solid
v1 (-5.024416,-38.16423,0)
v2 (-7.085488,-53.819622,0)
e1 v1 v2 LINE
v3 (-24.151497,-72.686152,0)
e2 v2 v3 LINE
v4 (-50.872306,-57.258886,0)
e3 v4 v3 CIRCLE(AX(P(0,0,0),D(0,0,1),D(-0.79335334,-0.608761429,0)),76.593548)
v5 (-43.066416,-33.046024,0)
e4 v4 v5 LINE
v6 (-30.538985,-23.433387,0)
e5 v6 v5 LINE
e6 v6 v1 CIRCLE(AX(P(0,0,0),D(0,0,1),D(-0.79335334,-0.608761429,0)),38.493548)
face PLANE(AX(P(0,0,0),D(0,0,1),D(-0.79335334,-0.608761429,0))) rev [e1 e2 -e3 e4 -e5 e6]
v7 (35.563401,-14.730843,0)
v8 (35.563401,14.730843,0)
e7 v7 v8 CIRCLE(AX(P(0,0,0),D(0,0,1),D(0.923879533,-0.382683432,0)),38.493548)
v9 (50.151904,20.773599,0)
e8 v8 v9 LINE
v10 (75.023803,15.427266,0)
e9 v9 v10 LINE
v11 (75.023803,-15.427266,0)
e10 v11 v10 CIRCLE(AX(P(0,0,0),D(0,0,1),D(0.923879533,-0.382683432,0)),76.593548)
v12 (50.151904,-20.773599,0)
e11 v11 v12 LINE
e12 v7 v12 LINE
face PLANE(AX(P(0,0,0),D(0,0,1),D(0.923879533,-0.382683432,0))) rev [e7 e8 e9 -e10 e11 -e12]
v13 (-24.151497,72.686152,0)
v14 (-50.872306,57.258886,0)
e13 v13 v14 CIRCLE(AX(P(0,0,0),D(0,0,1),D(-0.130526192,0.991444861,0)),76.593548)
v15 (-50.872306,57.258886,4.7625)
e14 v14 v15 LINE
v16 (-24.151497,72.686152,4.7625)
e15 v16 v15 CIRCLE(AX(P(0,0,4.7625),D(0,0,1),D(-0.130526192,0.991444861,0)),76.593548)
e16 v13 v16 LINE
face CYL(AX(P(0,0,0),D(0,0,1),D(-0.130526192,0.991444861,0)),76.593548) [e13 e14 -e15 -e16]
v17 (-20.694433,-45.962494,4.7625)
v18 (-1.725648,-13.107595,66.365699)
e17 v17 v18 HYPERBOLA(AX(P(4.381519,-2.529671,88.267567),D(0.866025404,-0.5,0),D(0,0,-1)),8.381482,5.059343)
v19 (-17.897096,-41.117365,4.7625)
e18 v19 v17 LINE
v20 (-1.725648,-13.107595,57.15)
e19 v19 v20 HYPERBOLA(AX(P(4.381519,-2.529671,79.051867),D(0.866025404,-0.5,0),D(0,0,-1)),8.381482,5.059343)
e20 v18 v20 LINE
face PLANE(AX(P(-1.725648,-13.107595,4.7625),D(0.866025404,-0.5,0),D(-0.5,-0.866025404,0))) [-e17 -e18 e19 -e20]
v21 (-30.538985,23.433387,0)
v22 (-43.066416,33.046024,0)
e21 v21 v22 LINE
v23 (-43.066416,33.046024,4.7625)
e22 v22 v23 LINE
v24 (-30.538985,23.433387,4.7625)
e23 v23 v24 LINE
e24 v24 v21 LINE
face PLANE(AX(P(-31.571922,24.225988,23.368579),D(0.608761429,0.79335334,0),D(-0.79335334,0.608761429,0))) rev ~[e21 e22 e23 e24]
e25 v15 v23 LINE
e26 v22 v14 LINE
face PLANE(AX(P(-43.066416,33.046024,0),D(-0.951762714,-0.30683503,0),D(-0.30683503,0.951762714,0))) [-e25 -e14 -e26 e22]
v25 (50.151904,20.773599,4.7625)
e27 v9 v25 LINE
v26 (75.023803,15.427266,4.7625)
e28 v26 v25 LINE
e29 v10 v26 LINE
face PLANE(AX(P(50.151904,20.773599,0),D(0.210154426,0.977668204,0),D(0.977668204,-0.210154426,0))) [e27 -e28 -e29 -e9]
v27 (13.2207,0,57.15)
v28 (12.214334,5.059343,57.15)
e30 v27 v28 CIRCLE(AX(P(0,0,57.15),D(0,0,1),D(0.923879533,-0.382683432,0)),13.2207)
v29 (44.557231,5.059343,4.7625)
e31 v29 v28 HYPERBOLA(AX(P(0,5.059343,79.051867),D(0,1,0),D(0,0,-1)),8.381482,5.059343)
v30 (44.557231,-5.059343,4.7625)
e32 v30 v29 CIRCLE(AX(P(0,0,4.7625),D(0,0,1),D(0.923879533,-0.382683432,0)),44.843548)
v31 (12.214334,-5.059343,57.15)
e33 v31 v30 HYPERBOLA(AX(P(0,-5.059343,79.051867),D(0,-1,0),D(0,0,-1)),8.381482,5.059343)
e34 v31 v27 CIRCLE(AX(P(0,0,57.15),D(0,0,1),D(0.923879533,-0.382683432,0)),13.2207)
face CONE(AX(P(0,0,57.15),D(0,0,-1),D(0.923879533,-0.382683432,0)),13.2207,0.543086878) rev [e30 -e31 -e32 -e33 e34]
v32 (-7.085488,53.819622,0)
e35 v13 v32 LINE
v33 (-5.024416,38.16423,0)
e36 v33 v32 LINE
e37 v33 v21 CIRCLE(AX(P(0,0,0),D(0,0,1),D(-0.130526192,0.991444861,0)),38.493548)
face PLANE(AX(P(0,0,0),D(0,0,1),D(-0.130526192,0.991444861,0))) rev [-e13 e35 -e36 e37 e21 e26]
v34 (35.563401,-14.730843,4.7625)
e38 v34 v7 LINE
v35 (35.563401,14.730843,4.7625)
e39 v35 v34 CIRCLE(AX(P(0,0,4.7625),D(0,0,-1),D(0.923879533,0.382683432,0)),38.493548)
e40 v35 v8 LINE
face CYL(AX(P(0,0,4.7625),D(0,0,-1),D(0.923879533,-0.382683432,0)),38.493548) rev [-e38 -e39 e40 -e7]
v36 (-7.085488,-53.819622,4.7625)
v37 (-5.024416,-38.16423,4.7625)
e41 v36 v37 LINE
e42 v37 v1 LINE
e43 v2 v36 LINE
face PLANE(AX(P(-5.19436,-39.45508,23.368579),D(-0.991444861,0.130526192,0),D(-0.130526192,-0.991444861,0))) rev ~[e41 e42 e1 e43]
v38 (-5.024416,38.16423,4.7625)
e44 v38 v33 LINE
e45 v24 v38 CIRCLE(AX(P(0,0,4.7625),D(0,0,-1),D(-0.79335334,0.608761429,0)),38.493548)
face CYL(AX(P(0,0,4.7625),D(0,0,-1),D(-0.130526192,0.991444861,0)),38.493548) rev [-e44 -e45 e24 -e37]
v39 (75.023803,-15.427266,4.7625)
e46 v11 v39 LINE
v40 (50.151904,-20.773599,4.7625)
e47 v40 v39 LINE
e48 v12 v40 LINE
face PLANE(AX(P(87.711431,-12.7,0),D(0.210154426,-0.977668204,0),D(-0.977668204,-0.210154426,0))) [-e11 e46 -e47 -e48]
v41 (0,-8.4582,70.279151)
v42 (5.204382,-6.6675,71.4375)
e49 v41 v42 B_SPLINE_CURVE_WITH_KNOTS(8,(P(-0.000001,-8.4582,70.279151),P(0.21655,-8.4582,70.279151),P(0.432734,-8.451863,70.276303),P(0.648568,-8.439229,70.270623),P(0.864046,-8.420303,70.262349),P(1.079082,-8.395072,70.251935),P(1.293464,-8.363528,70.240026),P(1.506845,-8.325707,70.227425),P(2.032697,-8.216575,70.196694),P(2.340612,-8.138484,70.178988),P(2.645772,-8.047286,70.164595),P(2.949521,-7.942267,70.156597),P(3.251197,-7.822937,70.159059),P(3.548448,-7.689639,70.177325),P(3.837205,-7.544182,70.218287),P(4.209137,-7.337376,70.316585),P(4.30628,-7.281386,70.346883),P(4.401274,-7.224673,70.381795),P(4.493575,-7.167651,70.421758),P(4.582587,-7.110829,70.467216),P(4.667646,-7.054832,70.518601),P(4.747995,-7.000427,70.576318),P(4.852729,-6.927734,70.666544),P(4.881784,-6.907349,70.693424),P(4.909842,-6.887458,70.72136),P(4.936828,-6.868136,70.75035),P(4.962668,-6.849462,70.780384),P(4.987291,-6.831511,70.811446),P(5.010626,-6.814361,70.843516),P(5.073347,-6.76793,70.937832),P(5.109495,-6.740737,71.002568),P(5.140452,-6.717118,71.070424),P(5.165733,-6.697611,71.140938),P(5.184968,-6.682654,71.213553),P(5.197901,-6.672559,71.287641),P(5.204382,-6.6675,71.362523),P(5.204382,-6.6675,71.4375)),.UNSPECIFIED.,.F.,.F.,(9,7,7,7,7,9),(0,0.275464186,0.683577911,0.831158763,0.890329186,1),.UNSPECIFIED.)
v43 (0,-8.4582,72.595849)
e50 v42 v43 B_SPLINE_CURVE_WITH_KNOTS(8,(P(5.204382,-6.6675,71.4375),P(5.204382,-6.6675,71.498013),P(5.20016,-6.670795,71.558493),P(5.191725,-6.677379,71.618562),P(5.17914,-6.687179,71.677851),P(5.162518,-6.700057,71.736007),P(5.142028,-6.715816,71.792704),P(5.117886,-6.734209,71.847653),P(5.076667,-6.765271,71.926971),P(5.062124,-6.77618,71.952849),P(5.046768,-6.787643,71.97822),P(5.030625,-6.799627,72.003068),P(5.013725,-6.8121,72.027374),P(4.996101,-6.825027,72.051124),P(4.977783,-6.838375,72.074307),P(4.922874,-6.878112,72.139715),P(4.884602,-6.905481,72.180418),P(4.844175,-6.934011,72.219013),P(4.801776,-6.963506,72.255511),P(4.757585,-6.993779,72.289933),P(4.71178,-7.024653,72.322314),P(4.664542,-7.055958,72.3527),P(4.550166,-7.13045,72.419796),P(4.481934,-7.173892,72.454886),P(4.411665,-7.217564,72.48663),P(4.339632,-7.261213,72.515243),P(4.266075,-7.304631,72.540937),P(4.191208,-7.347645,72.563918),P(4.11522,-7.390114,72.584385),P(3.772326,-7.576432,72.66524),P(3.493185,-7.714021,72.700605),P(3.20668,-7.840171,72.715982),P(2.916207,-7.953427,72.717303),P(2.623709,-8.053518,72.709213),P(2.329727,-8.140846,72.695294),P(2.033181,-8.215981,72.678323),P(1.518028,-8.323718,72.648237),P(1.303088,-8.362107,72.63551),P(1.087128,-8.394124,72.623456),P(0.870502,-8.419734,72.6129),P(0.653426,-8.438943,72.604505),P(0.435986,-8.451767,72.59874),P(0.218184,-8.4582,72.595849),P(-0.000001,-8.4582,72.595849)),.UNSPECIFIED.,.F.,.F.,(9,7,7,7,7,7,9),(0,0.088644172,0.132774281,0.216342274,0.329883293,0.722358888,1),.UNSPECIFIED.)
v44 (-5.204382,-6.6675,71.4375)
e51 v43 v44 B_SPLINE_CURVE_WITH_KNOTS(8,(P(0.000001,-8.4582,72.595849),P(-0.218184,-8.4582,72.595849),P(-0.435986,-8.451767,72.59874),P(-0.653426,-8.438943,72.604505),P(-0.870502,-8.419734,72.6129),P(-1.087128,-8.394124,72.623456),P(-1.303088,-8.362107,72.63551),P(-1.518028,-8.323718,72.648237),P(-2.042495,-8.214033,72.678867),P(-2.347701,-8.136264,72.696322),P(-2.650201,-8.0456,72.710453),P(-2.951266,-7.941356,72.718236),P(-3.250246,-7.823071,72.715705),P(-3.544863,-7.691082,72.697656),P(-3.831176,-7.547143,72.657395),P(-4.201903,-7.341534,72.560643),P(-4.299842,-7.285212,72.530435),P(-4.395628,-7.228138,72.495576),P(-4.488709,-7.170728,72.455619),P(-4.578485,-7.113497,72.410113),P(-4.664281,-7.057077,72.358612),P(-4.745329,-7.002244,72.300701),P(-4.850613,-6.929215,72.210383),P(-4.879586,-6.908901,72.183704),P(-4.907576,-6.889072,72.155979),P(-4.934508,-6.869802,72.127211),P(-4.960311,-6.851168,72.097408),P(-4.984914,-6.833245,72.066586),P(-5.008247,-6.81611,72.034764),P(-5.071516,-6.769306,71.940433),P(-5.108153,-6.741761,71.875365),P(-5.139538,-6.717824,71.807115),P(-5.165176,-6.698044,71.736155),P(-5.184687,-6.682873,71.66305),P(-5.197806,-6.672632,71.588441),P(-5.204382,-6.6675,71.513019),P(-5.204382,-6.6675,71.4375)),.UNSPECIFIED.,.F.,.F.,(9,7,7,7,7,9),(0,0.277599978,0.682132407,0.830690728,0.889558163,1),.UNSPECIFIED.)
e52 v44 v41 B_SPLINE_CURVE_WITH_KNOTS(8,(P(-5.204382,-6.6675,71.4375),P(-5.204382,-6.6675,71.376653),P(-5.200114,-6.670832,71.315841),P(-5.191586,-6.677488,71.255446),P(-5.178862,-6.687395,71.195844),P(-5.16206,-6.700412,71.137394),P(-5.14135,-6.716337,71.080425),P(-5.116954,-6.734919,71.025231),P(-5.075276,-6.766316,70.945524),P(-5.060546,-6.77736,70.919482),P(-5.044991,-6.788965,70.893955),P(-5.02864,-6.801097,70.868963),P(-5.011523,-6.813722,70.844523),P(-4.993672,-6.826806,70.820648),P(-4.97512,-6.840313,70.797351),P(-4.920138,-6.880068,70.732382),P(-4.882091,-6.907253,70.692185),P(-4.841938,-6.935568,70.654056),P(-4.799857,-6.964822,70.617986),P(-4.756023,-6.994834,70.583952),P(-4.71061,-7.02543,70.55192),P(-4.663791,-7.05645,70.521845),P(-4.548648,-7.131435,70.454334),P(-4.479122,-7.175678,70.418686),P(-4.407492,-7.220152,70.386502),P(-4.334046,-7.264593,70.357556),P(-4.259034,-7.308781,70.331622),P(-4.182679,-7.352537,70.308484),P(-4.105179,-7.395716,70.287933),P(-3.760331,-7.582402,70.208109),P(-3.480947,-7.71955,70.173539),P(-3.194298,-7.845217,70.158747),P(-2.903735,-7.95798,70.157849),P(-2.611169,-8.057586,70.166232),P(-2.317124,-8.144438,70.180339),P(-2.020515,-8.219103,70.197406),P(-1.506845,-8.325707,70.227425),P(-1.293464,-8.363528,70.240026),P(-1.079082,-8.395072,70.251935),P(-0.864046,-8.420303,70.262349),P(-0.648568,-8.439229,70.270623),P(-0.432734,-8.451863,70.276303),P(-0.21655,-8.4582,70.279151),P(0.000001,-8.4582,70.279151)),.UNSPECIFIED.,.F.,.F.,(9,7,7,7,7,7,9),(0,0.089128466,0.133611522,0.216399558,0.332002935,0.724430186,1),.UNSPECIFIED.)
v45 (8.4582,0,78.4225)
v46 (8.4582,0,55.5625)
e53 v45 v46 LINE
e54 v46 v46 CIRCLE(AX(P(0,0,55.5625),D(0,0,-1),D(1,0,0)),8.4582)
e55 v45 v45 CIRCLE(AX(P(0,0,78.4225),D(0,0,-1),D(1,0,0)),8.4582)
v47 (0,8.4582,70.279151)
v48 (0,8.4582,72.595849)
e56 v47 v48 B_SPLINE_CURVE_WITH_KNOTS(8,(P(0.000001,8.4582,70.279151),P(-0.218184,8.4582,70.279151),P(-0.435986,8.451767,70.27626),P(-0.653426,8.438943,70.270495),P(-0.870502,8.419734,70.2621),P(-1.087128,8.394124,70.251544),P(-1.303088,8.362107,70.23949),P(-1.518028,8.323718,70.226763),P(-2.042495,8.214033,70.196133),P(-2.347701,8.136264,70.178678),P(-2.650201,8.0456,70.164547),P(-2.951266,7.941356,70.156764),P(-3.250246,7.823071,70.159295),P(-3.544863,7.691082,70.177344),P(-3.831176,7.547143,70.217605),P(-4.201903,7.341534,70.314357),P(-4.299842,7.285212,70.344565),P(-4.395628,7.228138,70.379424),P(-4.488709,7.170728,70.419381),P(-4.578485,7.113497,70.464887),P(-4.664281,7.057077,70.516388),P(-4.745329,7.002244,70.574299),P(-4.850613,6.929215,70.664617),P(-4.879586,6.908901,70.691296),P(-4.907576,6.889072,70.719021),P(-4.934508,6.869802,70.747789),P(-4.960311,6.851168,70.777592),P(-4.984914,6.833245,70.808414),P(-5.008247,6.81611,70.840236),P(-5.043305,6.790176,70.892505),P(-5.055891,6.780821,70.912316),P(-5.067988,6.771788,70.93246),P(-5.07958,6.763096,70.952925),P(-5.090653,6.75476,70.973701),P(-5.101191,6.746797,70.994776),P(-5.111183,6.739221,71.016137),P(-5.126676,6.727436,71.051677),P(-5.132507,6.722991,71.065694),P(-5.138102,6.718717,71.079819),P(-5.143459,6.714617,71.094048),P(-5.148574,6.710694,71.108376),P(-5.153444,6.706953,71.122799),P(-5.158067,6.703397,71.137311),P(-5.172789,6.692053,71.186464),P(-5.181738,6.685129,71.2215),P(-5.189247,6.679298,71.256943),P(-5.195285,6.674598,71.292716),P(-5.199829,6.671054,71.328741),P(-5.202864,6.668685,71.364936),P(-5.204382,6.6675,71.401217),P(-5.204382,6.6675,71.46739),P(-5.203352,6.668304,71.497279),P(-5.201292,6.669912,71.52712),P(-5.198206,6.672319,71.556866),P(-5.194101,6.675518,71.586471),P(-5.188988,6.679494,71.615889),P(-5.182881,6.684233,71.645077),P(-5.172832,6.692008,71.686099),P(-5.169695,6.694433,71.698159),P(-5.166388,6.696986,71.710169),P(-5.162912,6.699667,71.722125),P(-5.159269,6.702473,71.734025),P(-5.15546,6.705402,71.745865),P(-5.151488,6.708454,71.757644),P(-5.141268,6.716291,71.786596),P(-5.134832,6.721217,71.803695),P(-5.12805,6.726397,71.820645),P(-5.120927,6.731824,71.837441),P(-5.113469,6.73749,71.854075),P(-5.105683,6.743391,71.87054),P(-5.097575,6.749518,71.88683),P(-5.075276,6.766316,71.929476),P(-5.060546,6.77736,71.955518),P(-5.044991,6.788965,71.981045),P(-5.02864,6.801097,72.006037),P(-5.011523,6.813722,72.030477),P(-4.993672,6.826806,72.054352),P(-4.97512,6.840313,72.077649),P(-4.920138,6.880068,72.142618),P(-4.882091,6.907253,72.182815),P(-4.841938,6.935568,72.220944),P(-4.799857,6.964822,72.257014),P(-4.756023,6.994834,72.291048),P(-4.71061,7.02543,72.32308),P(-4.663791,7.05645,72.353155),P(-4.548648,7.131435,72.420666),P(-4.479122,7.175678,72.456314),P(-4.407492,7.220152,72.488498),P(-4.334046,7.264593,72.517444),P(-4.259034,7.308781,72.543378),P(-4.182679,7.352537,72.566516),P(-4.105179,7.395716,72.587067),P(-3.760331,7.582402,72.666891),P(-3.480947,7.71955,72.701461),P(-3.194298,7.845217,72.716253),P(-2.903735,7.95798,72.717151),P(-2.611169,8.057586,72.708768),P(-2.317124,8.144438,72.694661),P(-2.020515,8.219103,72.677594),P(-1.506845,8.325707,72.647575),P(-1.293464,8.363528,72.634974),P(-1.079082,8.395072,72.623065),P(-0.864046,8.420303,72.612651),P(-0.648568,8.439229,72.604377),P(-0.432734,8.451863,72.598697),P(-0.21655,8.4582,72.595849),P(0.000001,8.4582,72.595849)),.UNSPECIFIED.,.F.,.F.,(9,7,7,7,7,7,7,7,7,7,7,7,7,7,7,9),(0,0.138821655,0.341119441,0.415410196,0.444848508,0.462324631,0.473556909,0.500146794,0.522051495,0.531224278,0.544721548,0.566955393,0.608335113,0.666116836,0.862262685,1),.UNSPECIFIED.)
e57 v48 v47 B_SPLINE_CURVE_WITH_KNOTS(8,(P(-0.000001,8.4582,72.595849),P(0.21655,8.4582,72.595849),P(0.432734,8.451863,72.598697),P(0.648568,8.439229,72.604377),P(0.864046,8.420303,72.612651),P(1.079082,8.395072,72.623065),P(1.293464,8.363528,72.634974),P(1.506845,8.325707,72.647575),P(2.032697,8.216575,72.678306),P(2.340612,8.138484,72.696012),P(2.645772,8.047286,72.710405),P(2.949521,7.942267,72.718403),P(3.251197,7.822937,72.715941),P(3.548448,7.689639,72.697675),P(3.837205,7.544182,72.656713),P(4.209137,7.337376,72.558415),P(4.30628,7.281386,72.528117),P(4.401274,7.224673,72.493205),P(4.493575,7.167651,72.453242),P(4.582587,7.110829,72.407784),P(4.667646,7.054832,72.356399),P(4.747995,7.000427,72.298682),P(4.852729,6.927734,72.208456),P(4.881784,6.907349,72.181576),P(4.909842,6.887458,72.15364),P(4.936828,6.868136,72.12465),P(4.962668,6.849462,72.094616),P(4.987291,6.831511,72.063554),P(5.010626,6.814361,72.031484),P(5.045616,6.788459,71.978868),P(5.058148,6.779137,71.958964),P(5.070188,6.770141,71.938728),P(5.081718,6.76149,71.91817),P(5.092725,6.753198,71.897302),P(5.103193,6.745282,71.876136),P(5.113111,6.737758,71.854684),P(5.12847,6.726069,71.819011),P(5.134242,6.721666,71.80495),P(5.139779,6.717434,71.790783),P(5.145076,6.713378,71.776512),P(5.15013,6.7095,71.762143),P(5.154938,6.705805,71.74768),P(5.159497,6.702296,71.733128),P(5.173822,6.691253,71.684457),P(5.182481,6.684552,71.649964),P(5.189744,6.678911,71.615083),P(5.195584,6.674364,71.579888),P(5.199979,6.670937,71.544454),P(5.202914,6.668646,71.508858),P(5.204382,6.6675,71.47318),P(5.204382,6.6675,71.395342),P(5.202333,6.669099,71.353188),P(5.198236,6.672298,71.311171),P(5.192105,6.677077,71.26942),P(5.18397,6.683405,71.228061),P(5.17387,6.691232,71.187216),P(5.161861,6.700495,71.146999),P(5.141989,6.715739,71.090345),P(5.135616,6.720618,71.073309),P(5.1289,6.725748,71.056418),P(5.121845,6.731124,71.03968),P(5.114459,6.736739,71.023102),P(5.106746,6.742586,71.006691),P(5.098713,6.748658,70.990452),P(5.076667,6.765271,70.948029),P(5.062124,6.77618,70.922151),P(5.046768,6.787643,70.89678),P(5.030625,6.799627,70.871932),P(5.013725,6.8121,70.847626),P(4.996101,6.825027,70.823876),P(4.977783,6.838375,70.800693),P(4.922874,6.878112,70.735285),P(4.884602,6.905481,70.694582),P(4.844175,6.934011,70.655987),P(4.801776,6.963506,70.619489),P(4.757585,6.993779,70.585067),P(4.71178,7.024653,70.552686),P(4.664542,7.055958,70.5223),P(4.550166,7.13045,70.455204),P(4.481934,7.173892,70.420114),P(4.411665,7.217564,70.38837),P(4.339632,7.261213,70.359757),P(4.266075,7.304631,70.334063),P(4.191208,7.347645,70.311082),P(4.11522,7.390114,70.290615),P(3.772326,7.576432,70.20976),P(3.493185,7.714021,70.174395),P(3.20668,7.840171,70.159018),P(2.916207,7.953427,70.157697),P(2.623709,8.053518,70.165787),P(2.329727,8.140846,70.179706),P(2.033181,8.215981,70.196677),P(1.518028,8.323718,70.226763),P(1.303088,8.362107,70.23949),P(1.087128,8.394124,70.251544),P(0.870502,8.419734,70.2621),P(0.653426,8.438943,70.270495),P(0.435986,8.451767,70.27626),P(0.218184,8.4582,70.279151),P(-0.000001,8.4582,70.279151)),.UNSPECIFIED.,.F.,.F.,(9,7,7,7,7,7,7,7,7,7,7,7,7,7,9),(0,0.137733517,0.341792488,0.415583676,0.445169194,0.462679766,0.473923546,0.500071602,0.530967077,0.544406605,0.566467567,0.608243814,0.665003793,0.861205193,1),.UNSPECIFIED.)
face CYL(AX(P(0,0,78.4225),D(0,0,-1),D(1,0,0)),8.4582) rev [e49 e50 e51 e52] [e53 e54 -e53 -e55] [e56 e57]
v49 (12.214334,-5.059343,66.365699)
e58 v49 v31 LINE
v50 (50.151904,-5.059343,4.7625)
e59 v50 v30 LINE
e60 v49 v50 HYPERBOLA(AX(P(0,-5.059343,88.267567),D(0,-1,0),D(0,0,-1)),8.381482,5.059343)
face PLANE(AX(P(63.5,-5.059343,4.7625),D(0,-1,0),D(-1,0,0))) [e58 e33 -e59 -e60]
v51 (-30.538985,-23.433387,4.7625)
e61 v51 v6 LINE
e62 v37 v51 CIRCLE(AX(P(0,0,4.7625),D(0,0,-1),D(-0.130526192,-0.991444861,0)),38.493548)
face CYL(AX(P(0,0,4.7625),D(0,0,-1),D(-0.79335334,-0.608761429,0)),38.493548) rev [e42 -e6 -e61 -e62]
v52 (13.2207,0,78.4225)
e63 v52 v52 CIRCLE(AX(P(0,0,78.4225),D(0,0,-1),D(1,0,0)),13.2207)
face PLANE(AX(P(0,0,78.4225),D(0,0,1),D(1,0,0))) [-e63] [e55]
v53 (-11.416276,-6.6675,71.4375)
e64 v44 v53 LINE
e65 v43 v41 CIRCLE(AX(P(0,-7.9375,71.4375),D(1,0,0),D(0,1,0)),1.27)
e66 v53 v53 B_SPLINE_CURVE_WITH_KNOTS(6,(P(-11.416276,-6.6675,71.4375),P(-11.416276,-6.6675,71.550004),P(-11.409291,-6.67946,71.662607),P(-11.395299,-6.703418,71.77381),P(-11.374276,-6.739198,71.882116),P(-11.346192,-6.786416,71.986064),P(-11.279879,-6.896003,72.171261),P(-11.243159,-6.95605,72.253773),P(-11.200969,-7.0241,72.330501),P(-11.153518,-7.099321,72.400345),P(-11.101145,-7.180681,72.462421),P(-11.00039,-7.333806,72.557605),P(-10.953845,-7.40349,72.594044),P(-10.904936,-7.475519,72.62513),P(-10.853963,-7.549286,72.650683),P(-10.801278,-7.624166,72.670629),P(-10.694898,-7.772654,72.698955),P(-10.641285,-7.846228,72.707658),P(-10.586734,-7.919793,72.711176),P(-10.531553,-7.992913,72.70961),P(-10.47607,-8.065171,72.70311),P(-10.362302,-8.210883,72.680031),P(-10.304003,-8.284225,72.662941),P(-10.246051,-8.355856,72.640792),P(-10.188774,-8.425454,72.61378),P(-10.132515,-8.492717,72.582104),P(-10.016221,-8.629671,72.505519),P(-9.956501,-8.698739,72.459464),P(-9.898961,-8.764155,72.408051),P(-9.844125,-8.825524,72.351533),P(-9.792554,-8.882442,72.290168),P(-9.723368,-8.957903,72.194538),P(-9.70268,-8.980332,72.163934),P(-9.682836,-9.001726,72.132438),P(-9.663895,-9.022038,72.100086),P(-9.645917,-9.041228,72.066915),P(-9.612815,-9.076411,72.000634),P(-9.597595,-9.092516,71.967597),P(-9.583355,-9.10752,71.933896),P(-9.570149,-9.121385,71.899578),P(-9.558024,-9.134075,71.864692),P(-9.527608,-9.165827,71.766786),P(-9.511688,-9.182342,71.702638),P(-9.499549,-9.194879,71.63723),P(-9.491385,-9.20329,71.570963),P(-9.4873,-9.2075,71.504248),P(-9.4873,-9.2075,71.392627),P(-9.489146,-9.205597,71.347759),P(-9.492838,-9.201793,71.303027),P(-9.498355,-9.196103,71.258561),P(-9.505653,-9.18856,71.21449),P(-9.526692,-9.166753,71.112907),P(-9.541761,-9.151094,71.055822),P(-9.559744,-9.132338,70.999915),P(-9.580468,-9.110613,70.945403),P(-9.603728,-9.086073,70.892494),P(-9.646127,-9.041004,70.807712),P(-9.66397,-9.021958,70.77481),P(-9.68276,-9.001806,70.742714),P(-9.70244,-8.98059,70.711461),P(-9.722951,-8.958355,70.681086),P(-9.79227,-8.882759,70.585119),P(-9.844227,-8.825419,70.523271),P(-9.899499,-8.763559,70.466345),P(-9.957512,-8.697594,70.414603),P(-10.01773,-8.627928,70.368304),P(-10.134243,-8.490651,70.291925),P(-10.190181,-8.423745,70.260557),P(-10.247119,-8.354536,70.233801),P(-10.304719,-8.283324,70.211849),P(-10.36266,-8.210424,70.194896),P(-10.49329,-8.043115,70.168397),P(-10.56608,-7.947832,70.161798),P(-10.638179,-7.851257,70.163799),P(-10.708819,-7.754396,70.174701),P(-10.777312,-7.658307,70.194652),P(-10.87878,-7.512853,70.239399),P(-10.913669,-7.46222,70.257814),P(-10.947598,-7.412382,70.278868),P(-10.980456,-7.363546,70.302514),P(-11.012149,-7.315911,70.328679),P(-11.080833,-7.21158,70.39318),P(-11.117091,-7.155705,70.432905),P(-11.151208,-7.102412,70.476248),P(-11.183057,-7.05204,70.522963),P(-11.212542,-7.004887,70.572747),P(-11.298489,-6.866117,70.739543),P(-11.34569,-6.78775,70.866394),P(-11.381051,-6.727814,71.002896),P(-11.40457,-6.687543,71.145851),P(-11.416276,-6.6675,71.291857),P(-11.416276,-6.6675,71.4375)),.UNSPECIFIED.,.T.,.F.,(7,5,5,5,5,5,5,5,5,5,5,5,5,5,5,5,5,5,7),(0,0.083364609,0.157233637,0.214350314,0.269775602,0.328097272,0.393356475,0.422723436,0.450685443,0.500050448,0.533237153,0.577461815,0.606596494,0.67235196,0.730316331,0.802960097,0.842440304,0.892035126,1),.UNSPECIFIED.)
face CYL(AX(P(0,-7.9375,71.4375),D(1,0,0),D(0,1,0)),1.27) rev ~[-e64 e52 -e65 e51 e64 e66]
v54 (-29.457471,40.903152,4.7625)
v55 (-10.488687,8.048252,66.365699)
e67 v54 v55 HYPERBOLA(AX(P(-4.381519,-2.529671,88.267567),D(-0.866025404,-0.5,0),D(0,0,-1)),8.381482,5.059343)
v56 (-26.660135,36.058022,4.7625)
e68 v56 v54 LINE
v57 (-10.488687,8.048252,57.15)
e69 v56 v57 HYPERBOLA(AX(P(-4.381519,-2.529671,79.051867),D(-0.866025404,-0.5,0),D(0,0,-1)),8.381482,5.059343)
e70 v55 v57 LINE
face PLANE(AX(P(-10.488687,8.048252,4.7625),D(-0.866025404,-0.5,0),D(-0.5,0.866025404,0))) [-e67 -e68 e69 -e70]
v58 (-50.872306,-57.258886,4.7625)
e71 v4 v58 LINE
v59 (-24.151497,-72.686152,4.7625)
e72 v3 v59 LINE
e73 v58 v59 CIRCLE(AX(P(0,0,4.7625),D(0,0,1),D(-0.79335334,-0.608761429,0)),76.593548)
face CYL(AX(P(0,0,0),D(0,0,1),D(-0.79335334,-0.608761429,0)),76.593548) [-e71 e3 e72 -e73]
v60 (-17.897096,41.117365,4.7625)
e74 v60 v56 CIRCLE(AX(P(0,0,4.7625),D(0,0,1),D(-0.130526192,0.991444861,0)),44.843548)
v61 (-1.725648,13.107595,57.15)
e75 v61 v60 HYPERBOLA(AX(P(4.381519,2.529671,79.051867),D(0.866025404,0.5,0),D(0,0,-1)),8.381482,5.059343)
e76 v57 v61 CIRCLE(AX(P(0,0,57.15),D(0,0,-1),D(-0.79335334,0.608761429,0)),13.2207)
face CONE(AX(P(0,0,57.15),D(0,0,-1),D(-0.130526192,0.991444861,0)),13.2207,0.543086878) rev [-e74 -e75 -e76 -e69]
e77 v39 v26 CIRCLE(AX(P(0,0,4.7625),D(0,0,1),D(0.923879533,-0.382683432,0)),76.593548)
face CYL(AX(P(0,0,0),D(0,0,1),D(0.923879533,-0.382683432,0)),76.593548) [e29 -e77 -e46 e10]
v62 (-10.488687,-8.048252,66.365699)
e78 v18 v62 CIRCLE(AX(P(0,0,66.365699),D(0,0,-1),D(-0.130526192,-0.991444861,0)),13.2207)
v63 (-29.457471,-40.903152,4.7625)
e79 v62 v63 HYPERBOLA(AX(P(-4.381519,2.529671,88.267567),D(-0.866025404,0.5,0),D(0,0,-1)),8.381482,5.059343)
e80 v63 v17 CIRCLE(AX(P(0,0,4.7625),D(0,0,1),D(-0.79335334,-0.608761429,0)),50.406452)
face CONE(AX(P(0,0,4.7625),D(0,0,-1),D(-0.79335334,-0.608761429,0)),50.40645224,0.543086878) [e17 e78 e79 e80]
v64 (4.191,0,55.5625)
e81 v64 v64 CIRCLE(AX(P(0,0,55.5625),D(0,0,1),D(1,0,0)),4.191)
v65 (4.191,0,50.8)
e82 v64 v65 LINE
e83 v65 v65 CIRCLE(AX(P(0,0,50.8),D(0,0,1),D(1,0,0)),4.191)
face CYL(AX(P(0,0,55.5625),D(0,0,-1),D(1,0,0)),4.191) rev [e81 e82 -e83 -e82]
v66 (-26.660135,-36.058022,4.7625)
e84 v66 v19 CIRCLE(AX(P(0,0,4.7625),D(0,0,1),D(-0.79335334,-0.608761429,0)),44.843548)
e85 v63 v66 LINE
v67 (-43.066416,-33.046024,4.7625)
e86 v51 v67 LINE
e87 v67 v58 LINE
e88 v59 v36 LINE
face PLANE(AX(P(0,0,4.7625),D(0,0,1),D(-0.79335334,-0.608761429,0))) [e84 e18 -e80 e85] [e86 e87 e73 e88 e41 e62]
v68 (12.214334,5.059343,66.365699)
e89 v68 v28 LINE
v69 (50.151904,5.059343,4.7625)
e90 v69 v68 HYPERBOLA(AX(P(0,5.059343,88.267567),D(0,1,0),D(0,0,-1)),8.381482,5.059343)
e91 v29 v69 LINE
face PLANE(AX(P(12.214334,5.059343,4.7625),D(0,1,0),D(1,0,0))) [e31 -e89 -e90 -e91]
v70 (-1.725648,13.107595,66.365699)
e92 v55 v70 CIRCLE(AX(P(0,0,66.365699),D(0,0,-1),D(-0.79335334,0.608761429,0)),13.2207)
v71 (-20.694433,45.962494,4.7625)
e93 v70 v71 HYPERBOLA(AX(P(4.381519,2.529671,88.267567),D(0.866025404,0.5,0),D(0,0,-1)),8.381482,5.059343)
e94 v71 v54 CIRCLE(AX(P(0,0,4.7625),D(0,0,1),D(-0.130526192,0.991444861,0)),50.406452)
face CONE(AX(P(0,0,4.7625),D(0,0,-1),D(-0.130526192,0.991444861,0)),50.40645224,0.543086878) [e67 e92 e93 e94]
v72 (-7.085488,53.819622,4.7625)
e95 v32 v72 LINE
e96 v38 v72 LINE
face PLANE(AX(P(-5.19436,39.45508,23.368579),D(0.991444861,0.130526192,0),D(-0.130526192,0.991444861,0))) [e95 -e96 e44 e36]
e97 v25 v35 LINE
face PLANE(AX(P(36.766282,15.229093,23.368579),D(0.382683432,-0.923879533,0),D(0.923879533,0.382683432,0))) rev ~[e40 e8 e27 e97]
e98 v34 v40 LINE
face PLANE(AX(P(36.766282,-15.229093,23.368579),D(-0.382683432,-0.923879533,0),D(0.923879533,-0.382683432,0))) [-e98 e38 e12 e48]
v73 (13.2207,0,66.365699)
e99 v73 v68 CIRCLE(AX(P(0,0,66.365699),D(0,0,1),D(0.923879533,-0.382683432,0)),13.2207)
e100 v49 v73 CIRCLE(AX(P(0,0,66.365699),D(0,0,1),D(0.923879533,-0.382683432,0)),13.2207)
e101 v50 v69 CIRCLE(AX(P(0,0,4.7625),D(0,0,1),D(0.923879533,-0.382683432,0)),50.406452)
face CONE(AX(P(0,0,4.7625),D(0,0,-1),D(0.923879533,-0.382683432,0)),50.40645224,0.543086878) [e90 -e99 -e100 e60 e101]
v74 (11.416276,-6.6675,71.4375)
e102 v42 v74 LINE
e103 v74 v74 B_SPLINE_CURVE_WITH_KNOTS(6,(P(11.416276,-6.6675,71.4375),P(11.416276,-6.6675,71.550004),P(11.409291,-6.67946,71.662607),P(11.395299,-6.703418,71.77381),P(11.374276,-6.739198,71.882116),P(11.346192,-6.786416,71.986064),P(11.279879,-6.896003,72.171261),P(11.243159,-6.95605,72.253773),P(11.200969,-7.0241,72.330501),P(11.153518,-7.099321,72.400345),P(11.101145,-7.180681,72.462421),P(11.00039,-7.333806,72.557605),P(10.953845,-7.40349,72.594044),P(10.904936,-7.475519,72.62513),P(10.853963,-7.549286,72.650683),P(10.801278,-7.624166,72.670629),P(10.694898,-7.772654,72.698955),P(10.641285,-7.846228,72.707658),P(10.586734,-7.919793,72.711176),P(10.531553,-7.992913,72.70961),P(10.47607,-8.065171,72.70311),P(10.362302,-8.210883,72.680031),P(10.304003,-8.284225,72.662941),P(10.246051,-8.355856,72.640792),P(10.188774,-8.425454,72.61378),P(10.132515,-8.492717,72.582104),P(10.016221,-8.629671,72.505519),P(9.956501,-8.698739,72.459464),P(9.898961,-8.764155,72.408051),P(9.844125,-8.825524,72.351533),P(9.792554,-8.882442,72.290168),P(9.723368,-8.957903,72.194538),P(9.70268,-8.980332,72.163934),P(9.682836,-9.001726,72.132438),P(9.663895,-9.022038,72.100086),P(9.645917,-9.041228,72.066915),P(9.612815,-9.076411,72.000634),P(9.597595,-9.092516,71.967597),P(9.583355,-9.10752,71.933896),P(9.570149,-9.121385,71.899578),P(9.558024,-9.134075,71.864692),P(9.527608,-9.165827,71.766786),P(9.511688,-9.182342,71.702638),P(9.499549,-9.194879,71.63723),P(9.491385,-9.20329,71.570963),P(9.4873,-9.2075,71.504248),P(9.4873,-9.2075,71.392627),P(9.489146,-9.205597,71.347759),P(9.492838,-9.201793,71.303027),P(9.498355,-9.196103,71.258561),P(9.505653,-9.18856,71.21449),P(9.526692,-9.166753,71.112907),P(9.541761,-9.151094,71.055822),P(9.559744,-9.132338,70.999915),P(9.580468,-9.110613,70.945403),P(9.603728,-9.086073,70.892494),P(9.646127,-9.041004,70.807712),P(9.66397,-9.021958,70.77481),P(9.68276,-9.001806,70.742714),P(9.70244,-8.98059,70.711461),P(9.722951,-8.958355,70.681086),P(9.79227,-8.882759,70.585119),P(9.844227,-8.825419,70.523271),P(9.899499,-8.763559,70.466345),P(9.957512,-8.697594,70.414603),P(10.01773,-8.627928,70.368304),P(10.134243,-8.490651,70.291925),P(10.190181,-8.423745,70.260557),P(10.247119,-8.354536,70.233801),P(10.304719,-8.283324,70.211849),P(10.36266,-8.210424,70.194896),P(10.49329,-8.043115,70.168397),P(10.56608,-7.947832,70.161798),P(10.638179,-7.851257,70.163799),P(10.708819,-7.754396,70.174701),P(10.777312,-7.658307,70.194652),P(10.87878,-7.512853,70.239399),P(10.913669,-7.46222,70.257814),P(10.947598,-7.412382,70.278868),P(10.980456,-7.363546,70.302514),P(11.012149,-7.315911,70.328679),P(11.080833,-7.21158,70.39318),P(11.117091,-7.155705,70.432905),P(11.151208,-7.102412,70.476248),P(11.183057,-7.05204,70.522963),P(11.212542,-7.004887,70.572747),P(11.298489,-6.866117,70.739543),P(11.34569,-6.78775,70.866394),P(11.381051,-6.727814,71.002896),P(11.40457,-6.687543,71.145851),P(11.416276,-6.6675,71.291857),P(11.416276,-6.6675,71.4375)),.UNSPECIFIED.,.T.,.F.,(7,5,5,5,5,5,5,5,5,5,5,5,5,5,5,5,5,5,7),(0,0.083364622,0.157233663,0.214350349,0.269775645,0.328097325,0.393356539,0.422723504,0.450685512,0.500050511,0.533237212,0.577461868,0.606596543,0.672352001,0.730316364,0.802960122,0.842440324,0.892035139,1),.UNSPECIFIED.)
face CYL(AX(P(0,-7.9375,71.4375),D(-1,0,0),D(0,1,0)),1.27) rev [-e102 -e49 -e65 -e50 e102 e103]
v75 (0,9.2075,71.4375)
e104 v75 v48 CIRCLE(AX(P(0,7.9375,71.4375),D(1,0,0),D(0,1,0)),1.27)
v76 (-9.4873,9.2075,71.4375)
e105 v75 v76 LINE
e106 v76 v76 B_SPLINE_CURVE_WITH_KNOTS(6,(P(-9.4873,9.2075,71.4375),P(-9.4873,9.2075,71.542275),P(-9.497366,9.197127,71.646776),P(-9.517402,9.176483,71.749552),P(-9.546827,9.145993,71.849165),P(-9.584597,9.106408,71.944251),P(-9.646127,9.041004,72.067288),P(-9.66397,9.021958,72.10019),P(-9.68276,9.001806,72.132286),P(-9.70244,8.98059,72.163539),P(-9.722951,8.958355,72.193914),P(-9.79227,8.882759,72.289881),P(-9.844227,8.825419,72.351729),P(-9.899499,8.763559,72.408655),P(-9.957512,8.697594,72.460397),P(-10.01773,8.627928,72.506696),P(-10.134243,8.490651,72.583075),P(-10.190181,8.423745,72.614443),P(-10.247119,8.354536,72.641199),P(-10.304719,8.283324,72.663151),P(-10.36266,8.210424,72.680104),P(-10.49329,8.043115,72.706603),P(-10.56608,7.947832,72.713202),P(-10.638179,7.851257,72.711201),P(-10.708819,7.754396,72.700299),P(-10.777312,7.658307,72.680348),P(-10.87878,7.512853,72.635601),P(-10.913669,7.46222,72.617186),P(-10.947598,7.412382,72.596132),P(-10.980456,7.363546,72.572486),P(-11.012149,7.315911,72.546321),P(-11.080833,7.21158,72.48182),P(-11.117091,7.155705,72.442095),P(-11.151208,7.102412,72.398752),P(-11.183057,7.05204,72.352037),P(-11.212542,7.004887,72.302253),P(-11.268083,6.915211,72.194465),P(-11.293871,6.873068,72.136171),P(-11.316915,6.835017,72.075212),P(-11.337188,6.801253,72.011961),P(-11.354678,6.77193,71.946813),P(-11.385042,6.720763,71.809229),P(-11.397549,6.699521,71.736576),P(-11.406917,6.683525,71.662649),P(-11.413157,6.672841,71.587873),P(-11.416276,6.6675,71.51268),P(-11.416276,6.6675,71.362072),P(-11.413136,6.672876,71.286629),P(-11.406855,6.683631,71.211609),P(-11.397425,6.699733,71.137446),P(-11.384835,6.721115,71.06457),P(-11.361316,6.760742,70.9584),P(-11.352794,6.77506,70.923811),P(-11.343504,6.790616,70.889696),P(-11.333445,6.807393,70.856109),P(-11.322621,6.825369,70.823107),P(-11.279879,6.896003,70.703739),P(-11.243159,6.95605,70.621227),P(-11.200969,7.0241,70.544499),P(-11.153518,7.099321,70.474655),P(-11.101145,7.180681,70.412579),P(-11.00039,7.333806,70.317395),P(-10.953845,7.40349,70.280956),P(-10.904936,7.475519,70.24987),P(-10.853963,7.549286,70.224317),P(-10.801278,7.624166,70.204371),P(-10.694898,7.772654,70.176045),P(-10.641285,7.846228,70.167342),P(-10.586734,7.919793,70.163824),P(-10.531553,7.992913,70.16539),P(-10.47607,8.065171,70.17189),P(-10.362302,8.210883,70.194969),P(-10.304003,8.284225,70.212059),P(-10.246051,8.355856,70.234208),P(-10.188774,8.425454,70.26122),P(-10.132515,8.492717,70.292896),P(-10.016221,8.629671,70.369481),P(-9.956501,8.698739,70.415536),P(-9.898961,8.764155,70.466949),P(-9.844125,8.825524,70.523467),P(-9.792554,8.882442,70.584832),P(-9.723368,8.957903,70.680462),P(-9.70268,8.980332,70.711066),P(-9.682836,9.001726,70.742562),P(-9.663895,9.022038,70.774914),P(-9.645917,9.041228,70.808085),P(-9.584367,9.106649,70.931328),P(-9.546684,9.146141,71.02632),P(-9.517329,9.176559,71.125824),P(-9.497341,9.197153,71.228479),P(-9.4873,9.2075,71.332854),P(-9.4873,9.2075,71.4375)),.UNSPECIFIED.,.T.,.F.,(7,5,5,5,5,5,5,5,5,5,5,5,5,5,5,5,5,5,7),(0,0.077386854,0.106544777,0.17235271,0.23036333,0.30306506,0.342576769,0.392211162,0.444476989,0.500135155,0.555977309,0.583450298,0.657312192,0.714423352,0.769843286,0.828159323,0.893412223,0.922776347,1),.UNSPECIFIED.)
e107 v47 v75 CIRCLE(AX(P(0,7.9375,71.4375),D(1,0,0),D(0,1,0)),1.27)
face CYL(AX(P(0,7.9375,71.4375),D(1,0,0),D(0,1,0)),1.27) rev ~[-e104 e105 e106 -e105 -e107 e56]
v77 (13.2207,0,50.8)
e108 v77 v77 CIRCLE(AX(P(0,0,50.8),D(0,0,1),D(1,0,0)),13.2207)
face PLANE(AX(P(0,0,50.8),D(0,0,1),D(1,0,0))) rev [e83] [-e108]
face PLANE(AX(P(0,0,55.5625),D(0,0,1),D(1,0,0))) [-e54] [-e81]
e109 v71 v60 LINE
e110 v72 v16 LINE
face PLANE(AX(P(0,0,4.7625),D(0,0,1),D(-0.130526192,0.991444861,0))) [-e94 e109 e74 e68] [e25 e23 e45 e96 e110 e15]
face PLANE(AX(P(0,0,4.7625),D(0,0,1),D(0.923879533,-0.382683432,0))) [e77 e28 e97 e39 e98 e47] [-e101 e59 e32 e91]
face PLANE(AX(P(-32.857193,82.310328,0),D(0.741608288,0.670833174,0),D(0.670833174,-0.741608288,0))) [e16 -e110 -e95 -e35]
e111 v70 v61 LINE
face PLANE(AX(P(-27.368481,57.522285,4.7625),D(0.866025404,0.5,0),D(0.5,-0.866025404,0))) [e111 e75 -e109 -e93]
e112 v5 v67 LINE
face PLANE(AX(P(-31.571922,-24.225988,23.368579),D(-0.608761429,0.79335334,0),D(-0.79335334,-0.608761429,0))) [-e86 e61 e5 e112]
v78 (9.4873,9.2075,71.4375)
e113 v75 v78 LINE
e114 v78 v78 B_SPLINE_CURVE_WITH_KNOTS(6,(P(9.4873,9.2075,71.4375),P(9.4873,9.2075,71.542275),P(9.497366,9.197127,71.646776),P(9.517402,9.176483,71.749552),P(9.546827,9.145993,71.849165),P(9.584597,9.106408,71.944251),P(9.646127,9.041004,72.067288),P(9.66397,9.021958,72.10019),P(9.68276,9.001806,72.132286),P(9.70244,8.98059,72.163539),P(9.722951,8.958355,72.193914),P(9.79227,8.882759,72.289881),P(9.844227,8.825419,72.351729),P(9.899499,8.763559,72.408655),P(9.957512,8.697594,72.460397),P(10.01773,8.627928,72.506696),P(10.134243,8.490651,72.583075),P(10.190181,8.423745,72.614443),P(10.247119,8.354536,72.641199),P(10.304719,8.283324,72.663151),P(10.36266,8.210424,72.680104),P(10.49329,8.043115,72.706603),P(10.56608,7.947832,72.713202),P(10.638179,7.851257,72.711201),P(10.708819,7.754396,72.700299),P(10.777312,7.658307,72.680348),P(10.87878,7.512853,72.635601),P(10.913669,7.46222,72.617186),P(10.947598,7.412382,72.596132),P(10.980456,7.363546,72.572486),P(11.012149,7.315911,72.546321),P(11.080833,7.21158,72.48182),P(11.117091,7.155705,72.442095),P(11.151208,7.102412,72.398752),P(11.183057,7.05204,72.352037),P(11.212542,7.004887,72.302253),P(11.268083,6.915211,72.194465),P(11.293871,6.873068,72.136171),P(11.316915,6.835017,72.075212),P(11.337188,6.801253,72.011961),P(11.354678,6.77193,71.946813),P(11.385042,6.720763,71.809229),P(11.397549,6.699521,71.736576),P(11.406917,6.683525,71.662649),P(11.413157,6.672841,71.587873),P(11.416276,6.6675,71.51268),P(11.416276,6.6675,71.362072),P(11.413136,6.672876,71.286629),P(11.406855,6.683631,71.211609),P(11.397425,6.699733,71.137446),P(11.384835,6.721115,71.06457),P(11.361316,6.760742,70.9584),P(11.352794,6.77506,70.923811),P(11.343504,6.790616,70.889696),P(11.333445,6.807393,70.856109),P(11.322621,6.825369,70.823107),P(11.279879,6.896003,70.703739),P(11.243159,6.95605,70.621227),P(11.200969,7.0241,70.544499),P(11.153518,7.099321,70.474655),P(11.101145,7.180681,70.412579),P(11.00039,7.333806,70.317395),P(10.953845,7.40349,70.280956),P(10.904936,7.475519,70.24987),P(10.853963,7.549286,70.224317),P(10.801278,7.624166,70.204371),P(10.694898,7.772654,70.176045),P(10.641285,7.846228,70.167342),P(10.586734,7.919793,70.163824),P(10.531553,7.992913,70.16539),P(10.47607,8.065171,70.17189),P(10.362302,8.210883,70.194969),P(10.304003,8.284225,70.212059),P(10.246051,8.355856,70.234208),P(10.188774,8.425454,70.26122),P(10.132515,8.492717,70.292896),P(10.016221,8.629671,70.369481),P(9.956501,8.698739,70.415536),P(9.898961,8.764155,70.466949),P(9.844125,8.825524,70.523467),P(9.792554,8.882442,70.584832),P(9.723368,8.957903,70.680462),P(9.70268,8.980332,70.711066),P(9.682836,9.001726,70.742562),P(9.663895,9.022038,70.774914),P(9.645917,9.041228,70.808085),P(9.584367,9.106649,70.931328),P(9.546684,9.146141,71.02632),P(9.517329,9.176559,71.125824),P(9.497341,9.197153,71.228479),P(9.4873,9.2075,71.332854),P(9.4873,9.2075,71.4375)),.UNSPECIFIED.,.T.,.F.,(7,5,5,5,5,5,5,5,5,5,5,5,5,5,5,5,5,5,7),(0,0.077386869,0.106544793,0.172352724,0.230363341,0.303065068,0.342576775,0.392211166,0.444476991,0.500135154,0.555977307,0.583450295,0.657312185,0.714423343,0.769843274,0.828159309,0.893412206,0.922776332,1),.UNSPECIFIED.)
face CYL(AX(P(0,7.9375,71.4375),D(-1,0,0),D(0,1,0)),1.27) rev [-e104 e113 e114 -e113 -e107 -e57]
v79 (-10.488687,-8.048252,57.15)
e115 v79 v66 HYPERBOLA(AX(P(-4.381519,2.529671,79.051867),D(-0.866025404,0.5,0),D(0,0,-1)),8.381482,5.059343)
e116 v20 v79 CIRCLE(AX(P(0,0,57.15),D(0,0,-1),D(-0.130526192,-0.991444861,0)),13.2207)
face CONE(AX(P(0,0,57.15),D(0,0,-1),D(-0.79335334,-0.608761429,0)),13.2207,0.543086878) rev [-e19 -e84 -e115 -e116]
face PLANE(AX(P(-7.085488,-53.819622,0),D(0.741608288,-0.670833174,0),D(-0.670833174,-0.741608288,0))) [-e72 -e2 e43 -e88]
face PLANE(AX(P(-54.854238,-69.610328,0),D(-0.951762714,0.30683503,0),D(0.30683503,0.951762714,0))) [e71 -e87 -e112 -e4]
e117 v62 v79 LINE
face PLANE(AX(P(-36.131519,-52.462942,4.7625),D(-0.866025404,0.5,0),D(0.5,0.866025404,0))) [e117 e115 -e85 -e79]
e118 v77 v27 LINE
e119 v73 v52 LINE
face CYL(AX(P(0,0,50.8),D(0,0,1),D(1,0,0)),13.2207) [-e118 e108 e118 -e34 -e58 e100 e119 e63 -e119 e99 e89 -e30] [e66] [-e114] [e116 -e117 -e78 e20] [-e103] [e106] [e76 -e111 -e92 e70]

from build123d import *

# Parameters (mm, degrees)
F3_ANGLE_BACK  = 22.5
F3_ANGLE       = 45
F5_START       = 4.7625
F5_DEPTH       = 73.661
F7_DEPTH       = 78.4235
F8_COUNT       = 3
F9_R           = 1.27
F10_DEPTH      = 50.8733057387
F10_DEPTH_BACK = 76.59454776


with BuildPart() as f1:
    # F0 (on Front) → F1 (revolve)
    with BuildSketch(Plane.XZ):
        Polygon((13.2207, 50.8), (13.2207, 78.4225), (8.4582, 78.4225), (8.4582, 55.5625), (4.191, 55.5625), (4.191, 50.8), align=None)
    revolve(axis=Axis((0, 0, 76.2090291828), (0, 0, 1)))

    # F2 (on Front) → F3 (revolve)
    with BuildSketch(Plane.XZ, mode=Mode.PRIVATE) as f3_sk:
        Polygon((50.40645224, 4.7625), (13.2207, 66.3656993785), (13.2207, 57.15), (44.84354776, 4.7625), (38.49354776, 4.7625), (38.49354776, 0), (76.59354776, 0), (76.59354776, 4.7625), align=None)
    revolve(f3_sk.sketch.rotate(Axis((0, 0, 76.2090291828), (0, 0, 1)), -F3_ANGLE_BACK), axis=Axis((0, 0, 76.2090291828), (0, 0, 1)), revolution_arc=F3_ANGLE)

    # F4 (on Top) → F5 (cut)
    with BuildSketch(Plane.XY.offset(F5_START)):
        Polygon((12.2143341355, 33.2312490207), (12.2143341355, 5.0593428543), (63.5, 5.0593428543), (63.5, -5.0593428543), (12.2143341355, -5.0593428543), (12.2143341355, -33.2312490207), (78.2526575172, -33.2312490207), (78.2526575172, 33.2312490207), align=None)
    extrude(amount=F5_DEPTH, mode=Mode.SUBTRACT)

    # F6 (on Top) → F7 (cut, through all)
    with BuildSketch(Plane.XY):
        Polygon((50.1519040247, 31.7581439537), (50.1519040247, 20.7735988259), (87.7114310861, 12.7), (87.7114310861, -12.7), (50.1519040247, -20.7735988259), (50.1519040247, -36.5923251011), (108.705951746, -36.5923251011), (108.705951746, 31.7581439537), align=None)
    extrude(amount=F7_DEPTH, mode=Mode.SUBTRACT)

    # F8: F1 ×3 about axis
    f8_axis = Axis((0, 0, 76.2090291828), (0, 0, 1))


with BuildPart() as f1_1:
    add(f1.part)
    for i in range(1, F8_COUNT):
        add(f1.part.rotate(f8_axis, i * 360 / F8_COUNT))

    # F9 (on Right) → F10 (cut, two sides)
    with BuildSketch(Plane.YZ) as f10_sk:
        with Locations((-7.9375, 71.4375)):
            Circle(F9_R)
        with Locations((7.9375, 71.4375)):
            Circle(F9_R)
    extrude(amount=-F10_DEPTH, mode=Mode.SUBTRACT)
    extrude(f10_sk.sketch, amount=F10_DEPTH_BACK, mode=Mode.SUBTRACT)


solid = f1_1.part
